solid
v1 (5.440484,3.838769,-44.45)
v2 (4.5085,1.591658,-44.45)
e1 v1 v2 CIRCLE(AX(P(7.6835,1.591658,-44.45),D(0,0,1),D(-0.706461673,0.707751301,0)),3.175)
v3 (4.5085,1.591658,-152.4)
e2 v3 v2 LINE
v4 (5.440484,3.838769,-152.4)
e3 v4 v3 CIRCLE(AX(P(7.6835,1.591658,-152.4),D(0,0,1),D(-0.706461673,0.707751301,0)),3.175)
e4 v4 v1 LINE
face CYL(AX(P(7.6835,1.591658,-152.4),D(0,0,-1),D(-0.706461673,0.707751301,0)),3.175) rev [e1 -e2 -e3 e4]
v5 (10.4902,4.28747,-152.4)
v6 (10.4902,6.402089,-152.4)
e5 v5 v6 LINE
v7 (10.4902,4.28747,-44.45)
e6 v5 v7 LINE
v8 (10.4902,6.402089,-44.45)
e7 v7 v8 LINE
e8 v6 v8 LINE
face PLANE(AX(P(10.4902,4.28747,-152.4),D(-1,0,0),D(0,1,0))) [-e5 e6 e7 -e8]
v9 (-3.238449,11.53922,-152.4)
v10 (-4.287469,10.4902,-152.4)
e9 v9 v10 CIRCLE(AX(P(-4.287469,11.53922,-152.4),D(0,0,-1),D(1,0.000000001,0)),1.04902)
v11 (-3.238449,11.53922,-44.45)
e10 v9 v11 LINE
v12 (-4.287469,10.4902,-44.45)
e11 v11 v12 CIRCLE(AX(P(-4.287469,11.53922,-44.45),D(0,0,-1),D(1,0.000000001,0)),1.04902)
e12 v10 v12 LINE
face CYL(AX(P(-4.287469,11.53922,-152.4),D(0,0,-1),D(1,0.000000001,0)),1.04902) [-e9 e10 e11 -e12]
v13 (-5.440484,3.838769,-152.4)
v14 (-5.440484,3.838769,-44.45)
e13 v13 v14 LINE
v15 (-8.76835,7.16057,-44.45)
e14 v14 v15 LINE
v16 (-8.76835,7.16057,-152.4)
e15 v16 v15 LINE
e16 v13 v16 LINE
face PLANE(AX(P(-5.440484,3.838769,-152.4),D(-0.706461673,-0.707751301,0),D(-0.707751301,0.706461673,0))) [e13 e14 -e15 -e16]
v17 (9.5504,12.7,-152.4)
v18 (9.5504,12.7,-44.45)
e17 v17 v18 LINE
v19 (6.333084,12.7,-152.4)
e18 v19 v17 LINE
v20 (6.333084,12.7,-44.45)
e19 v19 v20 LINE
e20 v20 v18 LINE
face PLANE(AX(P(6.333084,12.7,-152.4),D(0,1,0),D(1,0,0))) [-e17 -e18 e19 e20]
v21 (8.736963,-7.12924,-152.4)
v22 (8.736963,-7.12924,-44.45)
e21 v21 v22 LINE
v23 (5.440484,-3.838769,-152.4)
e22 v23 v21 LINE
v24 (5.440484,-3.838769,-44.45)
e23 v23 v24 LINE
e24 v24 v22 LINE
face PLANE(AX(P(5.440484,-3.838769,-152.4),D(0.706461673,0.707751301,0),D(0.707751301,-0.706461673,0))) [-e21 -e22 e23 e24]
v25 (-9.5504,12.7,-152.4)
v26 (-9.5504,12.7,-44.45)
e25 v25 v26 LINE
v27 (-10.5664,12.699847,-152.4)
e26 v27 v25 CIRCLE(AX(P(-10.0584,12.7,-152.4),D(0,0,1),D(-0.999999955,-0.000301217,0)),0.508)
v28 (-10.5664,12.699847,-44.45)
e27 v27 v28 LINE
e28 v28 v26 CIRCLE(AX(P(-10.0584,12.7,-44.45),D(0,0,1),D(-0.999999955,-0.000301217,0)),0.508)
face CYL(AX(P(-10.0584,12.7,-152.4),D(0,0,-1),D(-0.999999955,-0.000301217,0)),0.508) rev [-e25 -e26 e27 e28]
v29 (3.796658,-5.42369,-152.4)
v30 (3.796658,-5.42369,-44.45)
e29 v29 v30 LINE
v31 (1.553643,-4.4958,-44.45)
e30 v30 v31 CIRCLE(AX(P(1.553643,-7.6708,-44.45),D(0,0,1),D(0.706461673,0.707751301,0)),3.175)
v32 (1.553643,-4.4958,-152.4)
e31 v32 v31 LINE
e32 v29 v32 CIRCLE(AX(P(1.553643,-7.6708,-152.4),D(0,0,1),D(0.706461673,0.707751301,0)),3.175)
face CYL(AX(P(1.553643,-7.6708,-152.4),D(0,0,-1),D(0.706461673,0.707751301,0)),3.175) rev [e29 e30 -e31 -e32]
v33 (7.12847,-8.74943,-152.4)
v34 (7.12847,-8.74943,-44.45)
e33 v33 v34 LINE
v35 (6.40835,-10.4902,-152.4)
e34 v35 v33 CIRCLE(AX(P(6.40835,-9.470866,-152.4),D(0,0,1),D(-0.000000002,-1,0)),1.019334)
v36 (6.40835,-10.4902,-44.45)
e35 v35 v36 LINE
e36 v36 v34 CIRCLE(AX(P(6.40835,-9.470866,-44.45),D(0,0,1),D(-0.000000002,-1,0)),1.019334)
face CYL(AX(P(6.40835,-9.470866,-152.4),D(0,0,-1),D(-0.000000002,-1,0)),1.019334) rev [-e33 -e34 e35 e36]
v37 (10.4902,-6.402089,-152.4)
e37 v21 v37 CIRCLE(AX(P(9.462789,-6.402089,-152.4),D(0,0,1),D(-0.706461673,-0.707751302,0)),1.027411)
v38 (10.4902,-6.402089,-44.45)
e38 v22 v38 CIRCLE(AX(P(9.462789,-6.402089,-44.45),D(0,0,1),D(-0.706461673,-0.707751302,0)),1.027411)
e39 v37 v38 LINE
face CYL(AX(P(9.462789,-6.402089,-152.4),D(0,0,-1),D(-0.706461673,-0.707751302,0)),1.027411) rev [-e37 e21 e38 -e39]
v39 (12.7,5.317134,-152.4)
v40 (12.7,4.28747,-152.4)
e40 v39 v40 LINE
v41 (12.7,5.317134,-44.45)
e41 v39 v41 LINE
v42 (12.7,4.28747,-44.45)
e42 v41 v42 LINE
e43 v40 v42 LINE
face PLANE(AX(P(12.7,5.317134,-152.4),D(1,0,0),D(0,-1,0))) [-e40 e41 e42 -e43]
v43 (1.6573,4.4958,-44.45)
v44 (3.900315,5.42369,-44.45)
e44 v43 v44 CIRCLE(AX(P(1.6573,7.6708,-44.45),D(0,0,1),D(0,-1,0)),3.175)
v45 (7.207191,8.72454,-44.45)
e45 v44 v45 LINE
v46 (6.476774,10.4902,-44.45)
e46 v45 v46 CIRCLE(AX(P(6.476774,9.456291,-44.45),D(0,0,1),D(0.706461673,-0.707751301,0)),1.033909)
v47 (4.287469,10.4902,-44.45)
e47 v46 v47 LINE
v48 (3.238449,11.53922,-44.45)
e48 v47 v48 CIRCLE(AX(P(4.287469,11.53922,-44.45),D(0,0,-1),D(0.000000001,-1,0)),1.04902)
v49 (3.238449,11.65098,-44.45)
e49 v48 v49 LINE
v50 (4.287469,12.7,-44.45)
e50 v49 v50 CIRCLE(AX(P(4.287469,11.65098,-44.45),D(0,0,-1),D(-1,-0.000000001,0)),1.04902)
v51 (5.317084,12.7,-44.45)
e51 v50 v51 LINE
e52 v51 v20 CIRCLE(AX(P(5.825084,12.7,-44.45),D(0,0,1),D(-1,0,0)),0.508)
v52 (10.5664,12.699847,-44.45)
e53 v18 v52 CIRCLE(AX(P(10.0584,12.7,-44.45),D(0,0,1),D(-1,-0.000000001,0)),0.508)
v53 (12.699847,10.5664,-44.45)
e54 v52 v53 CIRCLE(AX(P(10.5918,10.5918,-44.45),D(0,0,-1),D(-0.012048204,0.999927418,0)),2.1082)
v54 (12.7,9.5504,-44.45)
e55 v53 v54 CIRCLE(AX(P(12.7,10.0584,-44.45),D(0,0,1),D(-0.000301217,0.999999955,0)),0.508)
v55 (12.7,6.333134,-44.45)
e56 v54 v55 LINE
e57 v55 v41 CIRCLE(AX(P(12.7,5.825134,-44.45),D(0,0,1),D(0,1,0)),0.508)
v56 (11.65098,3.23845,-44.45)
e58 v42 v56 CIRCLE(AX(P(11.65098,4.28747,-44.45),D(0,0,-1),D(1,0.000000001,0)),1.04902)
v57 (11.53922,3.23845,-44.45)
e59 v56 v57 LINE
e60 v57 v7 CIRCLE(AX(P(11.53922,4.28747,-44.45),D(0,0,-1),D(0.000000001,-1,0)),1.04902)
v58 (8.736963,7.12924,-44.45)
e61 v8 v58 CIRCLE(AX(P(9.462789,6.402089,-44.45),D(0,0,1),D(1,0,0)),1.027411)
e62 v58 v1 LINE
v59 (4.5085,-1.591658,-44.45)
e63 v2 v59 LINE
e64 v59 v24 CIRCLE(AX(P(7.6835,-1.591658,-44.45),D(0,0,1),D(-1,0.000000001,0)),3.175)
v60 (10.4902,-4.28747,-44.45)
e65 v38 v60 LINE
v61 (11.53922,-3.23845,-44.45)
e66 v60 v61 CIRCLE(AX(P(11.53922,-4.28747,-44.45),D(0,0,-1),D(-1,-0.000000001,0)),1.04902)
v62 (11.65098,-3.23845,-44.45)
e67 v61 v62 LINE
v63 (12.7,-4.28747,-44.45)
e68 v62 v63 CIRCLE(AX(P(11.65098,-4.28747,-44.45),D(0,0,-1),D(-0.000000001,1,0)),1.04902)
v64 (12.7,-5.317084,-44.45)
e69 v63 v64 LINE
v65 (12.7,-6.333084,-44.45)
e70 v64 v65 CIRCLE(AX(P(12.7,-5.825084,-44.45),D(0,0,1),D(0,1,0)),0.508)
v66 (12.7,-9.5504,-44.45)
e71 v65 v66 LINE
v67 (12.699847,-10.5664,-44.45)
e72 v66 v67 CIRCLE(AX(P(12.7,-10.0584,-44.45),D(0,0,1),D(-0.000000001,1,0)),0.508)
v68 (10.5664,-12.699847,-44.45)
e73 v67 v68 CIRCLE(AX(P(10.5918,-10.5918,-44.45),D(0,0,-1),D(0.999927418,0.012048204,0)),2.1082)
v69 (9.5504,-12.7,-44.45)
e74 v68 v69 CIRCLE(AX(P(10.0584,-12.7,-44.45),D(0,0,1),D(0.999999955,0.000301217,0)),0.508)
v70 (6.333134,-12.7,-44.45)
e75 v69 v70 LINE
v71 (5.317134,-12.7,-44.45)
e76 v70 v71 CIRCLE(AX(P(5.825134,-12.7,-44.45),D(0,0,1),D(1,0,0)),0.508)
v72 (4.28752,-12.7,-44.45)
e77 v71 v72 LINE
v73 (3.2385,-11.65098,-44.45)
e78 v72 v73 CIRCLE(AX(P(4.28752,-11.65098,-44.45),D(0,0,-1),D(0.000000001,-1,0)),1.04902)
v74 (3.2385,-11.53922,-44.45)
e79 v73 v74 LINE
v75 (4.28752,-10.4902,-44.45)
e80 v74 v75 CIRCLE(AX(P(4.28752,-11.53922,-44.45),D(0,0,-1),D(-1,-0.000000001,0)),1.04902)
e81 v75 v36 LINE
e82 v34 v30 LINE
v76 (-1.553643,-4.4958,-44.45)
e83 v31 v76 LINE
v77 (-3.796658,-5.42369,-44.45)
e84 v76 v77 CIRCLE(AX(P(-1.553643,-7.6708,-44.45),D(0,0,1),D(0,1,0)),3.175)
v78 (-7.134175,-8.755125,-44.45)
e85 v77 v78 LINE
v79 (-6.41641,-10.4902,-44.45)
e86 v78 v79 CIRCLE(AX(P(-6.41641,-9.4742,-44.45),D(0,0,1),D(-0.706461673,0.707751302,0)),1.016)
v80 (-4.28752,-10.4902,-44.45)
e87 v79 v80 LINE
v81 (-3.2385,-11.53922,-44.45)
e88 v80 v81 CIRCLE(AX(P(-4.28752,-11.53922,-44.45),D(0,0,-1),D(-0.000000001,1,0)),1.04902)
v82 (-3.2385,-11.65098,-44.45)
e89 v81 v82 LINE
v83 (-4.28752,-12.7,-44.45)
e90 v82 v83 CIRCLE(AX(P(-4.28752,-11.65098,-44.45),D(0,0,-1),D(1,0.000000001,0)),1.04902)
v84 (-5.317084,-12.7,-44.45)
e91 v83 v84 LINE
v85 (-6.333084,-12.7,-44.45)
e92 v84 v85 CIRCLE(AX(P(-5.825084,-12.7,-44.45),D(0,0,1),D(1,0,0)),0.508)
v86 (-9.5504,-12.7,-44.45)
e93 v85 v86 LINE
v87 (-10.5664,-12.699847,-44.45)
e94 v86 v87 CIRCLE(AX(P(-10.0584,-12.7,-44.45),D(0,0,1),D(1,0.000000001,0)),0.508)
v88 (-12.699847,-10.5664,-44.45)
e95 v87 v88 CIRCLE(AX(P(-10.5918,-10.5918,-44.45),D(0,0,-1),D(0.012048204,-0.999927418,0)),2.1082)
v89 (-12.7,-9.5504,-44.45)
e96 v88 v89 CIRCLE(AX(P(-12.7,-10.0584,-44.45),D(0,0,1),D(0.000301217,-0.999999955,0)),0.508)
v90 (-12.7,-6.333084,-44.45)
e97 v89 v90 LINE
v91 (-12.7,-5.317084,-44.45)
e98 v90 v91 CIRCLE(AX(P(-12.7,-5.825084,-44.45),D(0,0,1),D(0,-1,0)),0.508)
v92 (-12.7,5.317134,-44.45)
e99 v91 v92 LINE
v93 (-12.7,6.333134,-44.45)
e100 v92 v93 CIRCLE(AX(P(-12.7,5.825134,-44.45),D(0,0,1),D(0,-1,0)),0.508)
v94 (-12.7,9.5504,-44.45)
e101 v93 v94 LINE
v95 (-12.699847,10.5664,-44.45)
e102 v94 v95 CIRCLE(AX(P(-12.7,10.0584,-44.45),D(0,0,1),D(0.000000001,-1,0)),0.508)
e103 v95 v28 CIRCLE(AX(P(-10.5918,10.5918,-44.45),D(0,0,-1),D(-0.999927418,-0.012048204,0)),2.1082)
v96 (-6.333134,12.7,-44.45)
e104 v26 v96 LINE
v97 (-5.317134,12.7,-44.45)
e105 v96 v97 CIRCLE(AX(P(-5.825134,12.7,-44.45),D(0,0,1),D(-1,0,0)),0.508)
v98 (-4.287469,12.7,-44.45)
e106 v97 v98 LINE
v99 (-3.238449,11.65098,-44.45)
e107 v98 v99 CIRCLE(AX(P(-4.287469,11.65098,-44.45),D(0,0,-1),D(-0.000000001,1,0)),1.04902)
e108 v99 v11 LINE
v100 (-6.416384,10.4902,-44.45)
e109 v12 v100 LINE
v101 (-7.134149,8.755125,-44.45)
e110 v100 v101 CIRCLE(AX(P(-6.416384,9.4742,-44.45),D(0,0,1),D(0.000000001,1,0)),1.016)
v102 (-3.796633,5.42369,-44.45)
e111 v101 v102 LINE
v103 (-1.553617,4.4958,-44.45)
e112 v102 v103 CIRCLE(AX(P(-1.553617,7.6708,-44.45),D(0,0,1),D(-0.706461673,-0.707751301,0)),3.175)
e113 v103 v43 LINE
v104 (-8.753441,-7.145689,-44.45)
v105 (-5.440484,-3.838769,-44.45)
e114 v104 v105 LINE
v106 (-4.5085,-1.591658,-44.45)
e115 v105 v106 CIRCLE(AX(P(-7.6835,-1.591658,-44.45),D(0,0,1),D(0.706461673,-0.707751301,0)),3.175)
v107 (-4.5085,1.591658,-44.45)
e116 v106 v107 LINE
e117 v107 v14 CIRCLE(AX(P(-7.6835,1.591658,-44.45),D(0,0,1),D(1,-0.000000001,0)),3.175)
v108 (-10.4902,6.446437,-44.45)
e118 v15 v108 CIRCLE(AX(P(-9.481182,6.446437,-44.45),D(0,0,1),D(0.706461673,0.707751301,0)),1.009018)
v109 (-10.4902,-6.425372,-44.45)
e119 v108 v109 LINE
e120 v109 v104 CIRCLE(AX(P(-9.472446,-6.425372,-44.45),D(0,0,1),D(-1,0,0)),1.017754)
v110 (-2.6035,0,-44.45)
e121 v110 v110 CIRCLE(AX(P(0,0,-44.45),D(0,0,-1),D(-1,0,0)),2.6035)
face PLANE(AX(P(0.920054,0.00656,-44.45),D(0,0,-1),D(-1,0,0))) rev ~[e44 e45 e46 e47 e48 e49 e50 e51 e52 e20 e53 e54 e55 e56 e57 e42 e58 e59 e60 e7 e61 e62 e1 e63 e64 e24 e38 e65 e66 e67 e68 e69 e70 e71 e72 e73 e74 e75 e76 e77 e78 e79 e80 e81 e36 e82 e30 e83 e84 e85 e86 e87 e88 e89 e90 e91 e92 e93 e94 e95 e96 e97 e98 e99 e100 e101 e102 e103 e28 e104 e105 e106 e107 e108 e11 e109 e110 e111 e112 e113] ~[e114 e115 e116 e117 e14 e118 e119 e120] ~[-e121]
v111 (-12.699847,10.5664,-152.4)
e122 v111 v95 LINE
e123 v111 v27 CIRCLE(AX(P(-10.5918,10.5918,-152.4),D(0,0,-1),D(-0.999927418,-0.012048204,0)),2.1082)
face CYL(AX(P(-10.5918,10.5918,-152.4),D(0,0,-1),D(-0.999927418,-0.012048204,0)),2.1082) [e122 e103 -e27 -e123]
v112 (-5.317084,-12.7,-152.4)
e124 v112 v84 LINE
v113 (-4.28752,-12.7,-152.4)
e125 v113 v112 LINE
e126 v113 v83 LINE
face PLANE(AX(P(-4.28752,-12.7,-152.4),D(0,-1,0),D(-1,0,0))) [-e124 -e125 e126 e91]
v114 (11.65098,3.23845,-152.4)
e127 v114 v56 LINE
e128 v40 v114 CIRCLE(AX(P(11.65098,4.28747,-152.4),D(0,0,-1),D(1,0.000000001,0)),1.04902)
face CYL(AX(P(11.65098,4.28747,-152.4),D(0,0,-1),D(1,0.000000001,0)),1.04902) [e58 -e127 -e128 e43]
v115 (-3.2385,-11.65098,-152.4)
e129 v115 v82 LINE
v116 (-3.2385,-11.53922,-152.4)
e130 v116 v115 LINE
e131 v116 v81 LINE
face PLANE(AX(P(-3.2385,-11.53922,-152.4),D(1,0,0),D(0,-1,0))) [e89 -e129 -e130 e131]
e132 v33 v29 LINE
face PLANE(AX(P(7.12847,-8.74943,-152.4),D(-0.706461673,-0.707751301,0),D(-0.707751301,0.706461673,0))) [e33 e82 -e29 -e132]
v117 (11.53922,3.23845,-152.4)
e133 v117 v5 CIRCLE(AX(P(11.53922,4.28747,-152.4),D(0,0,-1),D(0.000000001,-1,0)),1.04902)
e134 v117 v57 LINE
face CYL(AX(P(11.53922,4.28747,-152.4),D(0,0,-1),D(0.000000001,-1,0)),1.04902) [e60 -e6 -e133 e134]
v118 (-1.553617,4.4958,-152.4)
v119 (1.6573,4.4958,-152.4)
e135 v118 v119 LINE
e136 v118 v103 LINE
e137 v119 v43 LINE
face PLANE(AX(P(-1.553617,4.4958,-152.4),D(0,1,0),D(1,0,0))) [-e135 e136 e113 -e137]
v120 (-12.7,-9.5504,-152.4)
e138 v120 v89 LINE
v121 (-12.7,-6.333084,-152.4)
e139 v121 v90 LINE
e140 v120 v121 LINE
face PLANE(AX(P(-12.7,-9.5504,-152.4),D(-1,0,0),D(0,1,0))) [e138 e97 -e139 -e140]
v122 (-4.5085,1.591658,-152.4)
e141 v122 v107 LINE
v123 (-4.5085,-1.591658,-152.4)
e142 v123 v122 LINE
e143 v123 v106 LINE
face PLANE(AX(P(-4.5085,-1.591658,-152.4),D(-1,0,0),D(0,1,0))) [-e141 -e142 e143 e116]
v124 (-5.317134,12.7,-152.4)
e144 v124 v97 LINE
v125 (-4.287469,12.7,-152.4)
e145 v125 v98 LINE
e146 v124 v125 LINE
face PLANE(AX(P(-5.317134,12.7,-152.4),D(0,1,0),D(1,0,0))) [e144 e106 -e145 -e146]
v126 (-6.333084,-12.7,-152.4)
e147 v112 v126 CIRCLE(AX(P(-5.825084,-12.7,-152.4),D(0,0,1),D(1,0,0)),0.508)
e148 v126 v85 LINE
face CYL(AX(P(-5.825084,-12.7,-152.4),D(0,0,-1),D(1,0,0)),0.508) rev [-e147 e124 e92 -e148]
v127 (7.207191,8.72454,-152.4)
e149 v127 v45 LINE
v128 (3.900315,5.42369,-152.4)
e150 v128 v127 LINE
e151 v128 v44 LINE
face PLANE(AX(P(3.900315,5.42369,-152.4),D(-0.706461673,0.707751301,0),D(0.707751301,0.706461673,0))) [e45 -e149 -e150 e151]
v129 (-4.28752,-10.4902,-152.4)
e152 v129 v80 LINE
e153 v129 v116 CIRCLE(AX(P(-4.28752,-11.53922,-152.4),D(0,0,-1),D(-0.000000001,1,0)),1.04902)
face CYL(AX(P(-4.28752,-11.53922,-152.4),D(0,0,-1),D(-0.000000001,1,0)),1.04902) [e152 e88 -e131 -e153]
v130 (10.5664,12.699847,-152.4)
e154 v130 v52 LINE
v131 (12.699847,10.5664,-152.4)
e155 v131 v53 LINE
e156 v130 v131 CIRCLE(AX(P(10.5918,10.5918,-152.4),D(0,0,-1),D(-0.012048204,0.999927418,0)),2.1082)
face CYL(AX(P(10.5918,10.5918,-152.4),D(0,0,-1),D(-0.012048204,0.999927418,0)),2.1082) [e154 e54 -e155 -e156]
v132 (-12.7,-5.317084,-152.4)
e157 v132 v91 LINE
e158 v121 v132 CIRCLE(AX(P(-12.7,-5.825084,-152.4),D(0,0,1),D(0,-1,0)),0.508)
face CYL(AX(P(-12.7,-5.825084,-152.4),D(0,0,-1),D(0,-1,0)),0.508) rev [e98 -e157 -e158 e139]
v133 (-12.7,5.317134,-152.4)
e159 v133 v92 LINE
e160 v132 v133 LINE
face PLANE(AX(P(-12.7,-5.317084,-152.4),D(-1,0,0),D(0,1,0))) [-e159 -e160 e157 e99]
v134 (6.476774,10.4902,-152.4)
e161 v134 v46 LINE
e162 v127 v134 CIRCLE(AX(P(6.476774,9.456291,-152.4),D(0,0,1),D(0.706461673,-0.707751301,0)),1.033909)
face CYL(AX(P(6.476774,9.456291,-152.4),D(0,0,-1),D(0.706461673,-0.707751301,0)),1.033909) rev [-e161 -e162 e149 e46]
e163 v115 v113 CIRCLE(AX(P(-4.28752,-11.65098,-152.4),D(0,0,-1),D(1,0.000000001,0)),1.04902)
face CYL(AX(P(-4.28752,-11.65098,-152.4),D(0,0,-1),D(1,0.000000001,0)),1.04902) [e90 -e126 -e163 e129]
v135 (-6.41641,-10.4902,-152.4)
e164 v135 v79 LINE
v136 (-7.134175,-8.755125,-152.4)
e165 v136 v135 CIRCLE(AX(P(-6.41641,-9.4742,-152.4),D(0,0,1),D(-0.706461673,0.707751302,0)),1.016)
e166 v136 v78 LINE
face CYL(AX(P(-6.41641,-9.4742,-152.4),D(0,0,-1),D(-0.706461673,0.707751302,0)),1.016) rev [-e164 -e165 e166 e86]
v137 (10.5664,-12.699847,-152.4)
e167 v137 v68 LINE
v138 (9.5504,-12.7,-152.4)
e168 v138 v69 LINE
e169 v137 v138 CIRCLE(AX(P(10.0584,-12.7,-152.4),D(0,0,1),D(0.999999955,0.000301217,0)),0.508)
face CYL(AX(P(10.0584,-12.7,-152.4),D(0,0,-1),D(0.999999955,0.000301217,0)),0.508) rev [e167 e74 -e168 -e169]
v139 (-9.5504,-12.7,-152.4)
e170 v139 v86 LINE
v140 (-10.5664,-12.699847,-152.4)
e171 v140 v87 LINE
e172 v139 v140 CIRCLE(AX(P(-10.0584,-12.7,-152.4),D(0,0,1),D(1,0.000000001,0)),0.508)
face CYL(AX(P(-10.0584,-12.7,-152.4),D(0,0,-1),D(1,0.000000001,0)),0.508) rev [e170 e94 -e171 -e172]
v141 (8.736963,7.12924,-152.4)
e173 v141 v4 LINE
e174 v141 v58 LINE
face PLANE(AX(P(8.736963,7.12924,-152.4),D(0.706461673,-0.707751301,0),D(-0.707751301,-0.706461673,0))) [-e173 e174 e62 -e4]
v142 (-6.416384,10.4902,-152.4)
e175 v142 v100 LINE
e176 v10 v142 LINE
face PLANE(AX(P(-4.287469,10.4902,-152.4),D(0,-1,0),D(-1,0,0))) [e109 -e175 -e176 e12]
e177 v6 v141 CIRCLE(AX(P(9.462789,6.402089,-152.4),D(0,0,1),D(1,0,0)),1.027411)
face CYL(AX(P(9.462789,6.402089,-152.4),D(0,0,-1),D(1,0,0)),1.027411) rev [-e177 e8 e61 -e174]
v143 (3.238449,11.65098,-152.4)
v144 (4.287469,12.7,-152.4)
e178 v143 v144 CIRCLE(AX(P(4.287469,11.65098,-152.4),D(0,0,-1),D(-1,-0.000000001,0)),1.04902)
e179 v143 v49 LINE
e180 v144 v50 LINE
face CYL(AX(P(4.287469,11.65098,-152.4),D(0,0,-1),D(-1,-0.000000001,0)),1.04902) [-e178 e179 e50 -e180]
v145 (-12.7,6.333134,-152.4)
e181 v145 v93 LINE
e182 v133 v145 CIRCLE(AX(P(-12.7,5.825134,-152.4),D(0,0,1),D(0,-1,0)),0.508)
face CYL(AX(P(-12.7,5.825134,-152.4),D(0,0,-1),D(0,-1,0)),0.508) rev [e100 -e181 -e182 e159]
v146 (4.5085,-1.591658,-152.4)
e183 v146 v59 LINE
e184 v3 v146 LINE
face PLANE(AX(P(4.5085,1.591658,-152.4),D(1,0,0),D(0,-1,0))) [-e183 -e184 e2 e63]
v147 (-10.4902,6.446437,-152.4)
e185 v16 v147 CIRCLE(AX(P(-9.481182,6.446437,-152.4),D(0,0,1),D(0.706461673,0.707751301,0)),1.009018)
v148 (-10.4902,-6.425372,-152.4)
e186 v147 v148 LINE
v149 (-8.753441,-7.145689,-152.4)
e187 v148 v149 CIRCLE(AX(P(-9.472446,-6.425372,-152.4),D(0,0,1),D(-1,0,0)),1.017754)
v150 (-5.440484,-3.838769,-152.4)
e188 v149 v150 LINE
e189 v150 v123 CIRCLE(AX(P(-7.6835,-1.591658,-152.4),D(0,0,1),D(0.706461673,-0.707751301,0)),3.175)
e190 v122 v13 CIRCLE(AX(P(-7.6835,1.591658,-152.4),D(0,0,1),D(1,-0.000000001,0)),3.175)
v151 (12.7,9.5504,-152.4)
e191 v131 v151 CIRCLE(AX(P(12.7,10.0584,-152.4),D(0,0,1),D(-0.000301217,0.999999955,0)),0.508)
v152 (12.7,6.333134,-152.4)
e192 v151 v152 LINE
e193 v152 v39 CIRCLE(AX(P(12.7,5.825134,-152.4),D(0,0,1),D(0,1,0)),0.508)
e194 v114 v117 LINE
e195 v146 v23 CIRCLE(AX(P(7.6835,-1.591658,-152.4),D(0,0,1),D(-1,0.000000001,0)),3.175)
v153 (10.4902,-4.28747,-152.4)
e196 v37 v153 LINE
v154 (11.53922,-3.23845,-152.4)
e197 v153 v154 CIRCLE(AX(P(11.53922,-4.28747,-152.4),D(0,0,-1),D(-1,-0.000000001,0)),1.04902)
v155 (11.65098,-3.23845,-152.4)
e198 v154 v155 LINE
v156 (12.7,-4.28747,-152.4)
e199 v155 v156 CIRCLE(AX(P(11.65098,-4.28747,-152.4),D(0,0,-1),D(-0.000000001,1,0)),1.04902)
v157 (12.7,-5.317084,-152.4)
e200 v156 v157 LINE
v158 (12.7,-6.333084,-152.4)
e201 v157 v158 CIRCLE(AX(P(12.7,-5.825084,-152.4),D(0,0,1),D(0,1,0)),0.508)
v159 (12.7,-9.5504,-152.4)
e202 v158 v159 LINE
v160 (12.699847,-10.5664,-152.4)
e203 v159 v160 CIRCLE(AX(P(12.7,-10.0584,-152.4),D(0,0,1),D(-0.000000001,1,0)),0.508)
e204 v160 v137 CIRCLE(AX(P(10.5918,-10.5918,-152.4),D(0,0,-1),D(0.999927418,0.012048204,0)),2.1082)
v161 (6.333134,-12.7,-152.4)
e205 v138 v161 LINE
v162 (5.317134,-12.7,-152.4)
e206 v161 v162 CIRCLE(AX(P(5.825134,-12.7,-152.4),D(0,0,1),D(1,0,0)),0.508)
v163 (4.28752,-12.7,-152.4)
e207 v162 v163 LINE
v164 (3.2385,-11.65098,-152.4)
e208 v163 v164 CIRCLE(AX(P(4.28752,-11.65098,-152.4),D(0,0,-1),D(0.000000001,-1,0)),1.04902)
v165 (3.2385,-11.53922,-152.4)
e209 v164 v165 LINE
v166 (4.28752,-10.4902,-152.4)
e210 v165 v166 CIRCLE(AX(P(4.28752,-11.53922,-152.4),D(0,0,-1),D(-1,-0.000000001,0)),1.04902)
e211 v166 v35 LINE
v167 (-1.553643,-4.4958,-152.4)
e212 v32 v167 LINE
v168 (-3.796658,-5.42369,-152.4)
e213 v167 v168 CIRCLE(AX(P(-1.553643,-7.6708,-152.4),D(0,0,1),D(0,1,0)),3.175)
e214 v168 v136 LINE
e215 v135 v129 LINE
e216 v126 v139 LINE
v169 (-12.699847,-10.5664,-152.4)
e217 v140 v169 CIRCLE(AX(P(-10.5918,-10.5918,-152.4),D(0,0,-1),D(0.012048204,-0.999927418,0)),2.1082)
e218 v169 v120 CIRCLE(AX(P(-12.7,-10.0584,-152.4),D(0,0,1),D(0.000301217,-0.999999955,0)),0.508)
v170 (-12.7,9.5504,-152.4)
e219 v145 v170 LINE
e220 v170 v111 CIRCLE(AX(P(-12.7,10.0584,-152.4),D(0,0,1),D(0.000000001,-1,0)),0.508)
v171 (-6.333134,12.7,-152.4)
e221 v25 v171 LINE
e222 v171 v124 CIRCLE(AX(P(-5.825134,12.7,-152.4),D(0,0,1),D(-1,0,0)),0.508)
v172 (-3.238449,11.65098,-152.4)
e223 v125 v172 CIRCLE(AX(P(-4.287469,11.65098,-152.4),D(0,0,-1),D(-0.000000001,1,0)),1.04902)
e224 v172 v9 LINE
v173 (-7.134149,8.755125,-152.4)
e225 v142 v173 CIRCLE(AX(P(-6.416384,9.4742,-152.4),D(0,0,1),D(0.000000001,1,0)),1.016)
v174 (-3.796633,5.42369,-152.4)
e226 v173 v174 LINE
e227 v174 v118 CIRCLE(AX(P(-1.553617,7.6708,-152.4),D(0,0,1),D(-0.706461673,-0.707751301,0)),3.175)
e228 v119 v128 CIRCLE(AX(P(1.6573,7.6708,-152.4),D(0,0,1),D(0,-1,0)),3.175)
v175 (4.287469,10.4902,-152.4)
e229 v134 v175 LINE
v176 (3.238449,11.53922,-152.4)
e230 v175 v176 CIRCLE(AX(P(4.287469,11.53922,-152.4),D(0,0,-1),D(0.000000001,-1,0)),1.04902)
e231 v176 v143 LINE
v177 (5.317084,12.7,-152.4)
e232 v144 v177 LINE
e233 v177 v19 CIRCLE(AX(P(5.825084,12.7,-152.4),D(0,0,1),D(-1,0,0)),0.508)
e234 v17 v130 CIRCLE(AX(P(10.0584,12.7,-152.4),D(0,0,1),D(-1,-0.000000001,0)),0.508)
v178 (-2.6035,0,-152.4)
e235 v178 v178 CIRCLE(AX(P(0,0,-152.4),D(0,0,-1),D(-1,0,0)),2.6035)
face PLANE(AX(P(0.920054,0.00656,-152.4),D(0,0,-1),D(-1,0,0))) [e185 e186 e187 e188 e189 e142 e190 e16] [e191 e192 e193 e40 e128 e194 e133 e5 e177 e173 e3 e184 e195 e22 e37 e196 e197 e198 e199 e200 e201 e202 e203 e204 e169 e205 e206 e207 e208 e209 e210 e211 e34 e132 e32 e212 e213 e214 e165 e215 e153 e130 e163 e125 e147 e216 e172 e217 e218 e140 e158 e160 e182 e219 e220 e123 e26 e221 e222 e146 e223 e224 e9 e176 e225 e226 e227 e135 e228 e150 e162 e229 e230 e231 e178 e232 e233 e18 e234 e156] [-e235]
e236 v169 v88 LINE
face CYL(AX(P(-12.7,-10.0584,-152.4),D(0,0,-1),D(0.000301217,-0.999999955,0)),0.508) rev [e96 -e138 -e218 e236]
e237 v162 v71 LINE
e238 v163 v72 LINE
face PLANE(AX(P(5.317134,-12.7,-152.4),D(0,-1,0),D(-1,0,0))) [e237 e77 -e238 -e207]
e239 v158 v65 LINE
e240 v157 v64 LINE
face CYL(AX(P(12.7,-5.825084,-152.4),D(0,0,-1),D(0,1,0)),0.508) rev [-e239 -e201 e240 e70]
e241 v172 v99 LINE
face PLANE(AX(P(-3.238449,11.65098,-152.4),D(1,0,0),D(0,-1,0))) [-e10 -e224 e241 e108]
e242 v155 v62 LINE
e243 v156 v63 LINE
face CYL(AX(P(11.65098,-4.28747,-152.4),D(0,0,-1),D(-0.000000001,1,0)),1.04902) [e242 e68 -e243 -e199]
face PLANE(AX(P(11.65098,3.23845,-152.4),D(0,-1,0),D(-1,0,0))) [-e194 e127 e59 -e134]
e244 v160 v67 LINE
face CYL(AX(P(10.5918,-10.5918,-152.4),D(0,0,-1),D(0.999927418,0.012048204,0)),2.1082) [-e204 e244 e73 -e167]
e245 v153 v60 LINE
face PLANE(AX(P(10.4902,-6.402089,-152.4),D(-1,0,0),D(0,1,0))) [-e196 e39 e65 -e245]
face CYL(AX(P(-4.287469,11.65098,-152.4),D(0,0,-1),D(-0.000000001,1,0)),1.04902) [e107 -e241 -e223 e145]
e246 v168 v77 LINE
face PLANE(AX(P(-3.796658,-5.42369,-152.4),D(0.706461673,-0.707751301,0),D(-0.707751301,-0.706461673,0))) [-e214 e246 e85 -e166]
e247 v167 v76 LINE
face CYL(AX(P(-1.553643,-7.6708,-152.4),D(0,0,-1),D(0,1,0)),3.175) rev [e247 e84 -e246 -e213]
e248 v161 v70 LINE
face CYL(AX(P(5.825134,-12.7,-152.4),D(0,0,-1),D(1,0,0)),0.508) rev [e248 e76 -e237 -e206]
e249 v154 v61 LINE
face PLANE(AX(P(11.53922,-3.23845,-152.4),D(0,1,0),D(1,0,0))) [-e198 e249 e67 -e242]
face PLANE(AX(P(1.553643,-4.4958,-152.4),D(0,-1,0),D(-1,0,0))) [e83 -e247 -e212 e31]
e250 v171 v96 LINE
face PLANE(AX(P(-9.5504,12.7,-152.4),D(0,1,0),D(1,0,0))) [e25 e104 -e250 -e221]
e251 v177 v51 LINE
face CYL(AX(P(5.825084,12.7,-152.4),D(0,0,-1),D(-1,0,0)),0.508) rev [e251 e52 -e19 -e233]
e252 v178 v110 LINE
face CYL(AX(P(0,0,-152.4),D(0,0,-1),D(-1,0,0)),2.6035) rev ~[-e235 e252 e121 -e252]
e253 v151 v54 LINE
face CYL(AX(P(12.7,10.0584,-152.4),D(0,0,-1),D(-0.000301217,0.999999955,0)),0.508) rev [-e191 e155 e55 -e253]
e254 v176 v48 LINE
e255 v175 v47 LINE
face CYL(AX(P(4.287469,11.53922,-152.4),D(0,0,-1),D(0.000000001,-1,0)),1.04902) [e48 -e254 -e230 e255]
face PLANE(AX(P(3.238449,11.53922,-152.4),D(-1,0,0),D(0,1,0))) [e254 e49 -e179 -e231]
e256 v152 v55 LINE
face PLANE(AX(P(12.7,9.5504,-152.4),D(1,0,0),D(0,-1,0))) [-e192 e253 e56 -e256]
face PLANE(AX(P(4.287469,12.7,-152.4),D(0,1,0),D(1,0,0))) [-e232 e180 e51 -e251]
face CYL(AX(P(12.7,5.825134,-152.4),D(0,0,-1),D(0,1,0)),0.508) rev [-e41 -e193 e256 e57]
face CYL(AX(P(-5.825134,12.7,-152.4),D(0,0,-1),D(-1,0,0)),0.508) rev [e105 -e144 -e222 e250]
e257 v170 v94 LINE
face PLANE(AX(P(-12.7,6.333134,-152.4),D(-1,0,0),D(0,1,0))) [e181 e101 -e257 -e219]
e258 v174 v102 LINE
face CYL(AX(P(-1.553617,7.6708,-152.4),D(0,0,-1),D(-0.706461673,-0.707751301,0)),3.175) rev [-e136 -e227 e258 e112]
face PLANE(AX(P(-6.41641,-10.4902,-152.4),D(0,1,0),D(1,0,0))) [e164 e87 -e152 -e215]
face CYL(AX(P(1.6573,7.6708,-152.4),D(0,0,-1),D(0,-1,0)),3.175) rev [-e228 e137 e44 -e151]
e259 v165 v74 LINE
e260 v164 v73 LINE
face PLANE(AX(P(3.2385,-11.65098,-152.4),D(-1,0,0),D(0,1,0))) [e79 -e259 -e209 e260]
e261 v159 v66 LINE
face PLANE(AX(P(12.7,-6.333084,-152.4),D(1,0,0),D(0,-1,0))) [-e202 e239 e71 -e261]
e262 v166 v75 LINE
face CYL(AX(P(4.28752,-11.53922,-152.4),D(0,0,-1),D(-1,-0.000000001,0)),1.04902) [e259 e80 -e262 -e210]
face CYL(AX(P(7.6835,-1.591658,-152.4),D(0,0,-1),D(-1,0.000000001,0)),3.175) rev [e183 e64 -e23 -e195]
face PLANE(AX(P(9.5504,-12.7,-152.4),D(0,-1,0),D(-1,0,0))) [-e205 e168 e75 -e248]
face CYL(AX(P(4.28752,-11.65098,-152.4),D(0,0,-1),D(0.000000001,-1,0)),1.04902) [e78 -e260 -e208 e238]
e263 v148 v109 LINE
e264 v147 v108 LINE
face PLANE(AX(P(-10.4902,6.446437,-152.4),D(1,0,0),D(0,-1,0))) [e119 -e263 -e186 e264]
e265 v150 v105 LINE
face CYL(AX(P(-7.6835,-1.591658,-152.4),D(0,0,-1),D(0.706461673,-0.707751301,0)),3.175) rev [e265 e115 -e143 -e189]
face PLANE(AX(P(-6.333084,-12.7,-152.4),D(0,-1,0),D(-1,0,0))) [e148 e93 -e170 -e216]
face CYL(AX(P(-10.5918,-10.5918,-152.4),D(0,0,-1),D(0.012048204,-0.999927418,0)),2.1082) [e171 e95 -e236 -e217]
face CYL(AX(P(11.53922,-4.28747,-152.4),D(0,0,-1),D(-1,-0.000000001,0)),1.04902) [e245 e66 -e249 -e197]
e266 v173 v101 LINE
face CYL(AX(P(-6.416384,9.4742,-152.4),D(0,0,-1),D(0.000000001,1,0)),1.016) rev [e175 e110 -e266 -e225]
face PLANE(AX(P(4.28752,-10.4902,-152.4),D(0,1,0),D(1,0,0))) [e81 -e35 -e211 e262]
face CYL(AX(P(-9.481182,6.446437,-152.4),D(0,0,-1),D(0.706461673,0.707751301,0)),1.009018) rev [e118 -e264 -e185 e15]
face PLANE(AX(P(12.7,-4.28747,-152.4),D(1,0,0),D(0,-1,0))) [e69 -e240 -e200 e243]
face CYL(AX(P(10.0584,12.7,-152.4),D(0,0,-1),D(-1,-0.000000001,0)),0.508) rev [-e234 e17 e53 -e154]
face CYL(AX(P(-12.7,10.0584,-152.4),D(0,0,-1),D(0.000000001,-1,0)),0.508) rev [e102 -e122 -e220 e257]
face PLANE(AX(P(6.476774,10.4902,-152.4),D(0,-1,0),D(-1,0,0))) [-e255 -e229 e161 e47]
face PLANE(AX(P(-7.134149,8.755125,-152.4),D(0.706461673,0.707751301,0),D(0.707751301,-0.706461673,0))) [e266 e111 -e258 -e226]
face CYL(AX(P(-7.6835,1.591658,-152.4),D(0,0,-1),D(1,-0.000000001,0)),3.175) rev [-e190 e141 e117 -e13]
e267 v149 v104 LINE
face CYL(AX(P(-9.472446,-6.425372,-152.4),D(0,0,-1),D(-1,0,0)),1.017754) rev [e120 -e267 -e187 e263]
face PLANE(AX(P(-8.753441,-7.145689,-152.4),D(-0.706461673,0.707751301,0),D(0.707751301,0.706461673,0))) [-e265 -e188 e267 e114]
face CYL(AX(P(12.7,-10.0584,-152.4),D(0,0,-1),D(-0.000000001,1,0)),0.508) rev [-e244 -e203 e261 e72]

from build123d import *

# Parameters (mm, degrees)
SKETCH1_R           = 2.6035
BOSS_EXTRUDE1_DEPTH = 107.95


with BuildPart() as part:
    # Sketch1 → Boss-Extrude1 (new body)
    with BuildSketch(Plane(origin=(0, 0, -152.4), x_dir=(-1, 0, 0), z_dir=(0, 0, -1))):
        with BuildLine():
            Line((6.416409763, -10.4902), (4.28752, -10.4902))
            ThreePointArc((4.28752, -10.4902), (3.545750844, -10.797450844), (3.2385, -11.53922))
            Line((3.2385, -11.53922), (3.2385, -11.65098))
            ThreePointArc((3.2385, -11.65098), (3.545750844, -12.392749156), (4.28752, -12.7))
            Line((4.28752, -12.7), (5.3170836, -12.7))
            ThreePointArc((5.3170836, -12.7), (5.8250836, -12.192), (6.3330836, -12.7))
            Line((6.3330836, -12.7), (9.5504, -12.7))
            ThreePointArc((9.5504, -12.7), (10.058323491, -12.192000006), (10.566399977, -12.699846982))
            ThreePointArc((10.566399977, -12.699846982), (12.082522516, -12.082522516), (12.699846982, -10.566399977))
            ThreePointArc((12.699846982, -10.566399977), (12.192000006, -10.058323491), (12.7, -9.5504))
            Line((12.7, -9.5504), (12.7, -6.3330836))
            ThreePointArc((12.7, -6.3330836), (12.192, -5.8250836), (12.7, -5.3170836))
            Line((12.7, -5.3170836), (12.7, 5.3171344))
            ThreePointArc((12.7, 5.3171344), (12.192, 5.8251344), (12.7, 6.3331344))
            Line((12.7, 6.3331344), (12.7, 9.5504))
            ThreePointArc((12.7, 9.5504), (12.192000006, 10.058323491), (12.699846982, 10.566399977))
            ThreePointArc((12.699846982, 10.566399977), (12.082522516, 12.082522516), (10.566399977, 12.699846982))
            ThreePointArc((10.566399977, 12.699846982), (10.058323491, 12.192000006), (9.5504, 12.7))
            Line((9.5504, 12.7), (6.3331344, 12.7))
            ThreePointArc((6.3331344, 12.7), (5.8251344, 12.192), (5.3171344, 12.7))
            Line((5.3171344, 12.7), (4.2874692, 12.7))
            ThreePointArc((4.2874692, 12.7), (3.545700044, 12.392749156), (3.2384492, 11.65098))
            Line((3.2384492, 11.65098), (3.2384492, 11.53922))
            ThreePointArc((3.2384492, 11.53922), (3.545700044, 10.797450844), (4.2874692, 10.4902))
            Line((4.2874692, 10.4902), (6.416384363, 10.4902))
            ThreePointArc((6.416384363, 10.4902), (7.355223148, 9.862578342), (7.134149423, 8.755124678))
            Line((7.134149423, 8.755124678), (3.796632915, 5.423689619))
            ThreePointArc((3.796632915, 5.423689619), (2.767299421, 4.736928798), (1.553617102, 4.4958))
            Line((1.553617102, 4.4958), (-1.657299581, 4.4958))
            ThreePointArc((-1.657299581, 4.4958), (-2.8709819, 4.736928798), (-3.900315394, 5.423689619))
            Line((-3.900315394, 5.423689619), (-7.207191475, 8.724540082))
            ThreePointArc((-7.207191475, 8.724540082), (-7.43216212, 9.851515102), (-6.476774195, 10.4902))
            Line((-6.476774195, 10.4902), (-4.2874692, 10.4902))
            ThreePointArc((-4.2874692, 10.4902), (-3.545700044, 10.797450844), (-3.2384492, 11.53922))
            Line((-3.2384492, 11.53922), (-3.2384492, 11.65098))
            ThreePointArc((-3.2384492, 11.65098), (-3.545700044, 12.392749156), (-4.2874692, 12.7))
            Line((-4.2874692, 12.7), (-5.3170836, 12.7))
            ThreePointArc((-5.3170836, 12.7), (-5.8250836, 12.192), (-6.3330836, 12.7))
            Line((-6.3330836, 12.7), (-9.5504, 12.7))
            ThreePointArc((-9.5504, 12.7), (-10.058323491, 12.192000006), (-10.566399977, 12.699846982))
            ThreePointArc((-10.566399977, 12.699846982), (-12.082522516, 12.082522516), (-12.699846982, 10.566399977))
            ThreePointArc((-12.699846982, 10.566399977), (-12.192000006, 10.058323491), (-12.7, 9.5504))
            Line((-12.7, 9.5504), (-12.7, 6.3331344))
            ThreePointArc((-12.7, 6.3331344), (-12.192, 5.8251344), (-12.7, 5.3171344))
            Line((-12.7, 5.3171344), (-12.7, 4.287470133))
            ThreePointArc((-12.7, 4.287470133), (-12.392749156, 3.545700977), (-11.65098, 3.238450133))
            Line((-11.65098, 3.238450133), (-11.53922, 3.238450133))
            ThreePointArc((-11.53922, 3.238450133), (-10.797450844, 3.545700977), (-10.4902, 4.287470133))
            Line((-10.4902, 4.287470133), (-10.4902, 6.402089023))
            ThreePointArc((-10.4902, 6.402089023), (-9.856394933, 7.351113629), (-8.736962546, 7.129240479))
            Line((-8.736962546, 7.129240479), (-5.440484187, 3.838768792))
            ThreePointArc((-5.440484187, 3.838768792), (-4.75073678, 2.808015636), (-4.5085, 1.591658411))
            Line((-4.5085, 1.591658411), (-4.5085, -1.591658411))
            ThreePointArc((-4.5085, -1.591658411), (-4.75073678, -2.808015636), (-5.440484187, -3.838768792))
            Line((-5.440484187, -3.838768792), (-8.736962546, -7.129240479))
            ThreePointArc((-8.736962546, -7.129240479), (-9.856394933, -7.351113629), (-10.4902, -6.402089023))
            Line((-10.4902, -6.402089023), (-10.4902, -4.287470133))
            ThreePointArc((-10.4902, -4.287470133), (-10.797450844, -3.545700977), (-11.53922, -3.238450133))
            Line((-11.53922, -3.238450133), (-11.65098, -3.238450133))
            ThreePointArc((-11.65098, -3.238450133), (-12.392749156, -3.545700977), (-12.7, -4.287470133))
            Line((-12.7, -4.287470133), (-12.7, -5.3170836))
            ThreePointArc((-12.7, -5.3170836), (-12.192, -5.8250836), (-12.7, -6.3330836))
            Line((-12.7, -6.3330836), (-12.7, -9.5504))
            ThreePointArc((-12.7, -9.5504), (-12.192000006, -10.058323491), (-12.699846982, -10.566399977))
            ThreePointArc((-12.699846982, -10.566399977), (-12.082522516, -12.082522516), (-10.566399977, -12.699846982))
            ThreePointArc((-10.566399977, -12.699846982), (-10.058323491, -12.192000006), (-9.5504, -12.7))
            Line((-9.5504, -12.7), (-6.3331344, -12.7))
            ThreePointArc((-6.3331344, -12.7), (-5.8251344, -12.192), (-5.3171344, -12.7))
            Line((-5.3171344, -12.7), (-4.28752, -12.7))
            ThreePointArc((-4.28752, -12.7), (-3.545750844, -12.392749156), (-3.2385, -11.65098))
            Line((-3.2385, -11.65098), (-3.2385, -11.53922))
            ThreePointArc((-3.2385, -11.53922), (-3.545750844, -10.797450844), (-4.28752, -10.4902))
            Line((-4.28752, -10.4902), (-6.40834956, -10.4902))
            ThreePointArc((-6.40834956, -10.4902), (-7.350269456, -9.860518594), (-7.128470204, -8.749430454))
            Line((-7.128470204, -8.749430454), (-3.796658315, -5.423689619))
            ThreePointArc((-3.796658315, -5.423689619), (-2.767324821, -4.736928798), (-1.553642502, -4.4958))
            Line((-1.553642502, -4.4958), (1.553642502, -4.4958))
            ThreePointArc((1.553642502, -4.4958), (2.767324821, -4.736928798), (3.796658315, -5.423689619))
            Line((3.796658315, -5.423689619), (7.134174823, -8.755124678))
            ThreePointArc((7.134174823, -8.755124678), (7.355248548, -9.862578342), (6.416409763, -10.4902))
        make_face()
        Circle(SKETCH1_R, mode=Mode.SUBTRACT)
        with BuildLine():
            Line((10.4902, 6.446436794), (10.4902, -6.425372487))
            ThreePointArc((10.4902, -6.425372487), (9.862352148, -7.36547709), (8.753441447, -7.145689354))
            Line((8.753441447, -7.145689354), (5.440484187, -3.838768792))
            ThreePointArc((5.440484187, -3.838768792), (4.75073678, -2.808015636), (4.5085, -1.591658411))
            Line((4.5085, -1.591658411), (4.5085, 1.591658411))
            ThreePointArc((4.5085, 1.591658411), (4.75073678, 2.808015636), (5.440484187, 3.838768792))
            Line((5.440484187, 3.838768792), (8.768349738, 7.160570479))
            ThreePointArc((8.768349738, 7.160570479), (9.867741577, 7.378471563), (10.4902, 6.446436794))
        make_face(mode=Mode.SUBTRACT)
    extrude(amount=-BOSS_EXTRUDE1_DEPTH)


solid = part.part
